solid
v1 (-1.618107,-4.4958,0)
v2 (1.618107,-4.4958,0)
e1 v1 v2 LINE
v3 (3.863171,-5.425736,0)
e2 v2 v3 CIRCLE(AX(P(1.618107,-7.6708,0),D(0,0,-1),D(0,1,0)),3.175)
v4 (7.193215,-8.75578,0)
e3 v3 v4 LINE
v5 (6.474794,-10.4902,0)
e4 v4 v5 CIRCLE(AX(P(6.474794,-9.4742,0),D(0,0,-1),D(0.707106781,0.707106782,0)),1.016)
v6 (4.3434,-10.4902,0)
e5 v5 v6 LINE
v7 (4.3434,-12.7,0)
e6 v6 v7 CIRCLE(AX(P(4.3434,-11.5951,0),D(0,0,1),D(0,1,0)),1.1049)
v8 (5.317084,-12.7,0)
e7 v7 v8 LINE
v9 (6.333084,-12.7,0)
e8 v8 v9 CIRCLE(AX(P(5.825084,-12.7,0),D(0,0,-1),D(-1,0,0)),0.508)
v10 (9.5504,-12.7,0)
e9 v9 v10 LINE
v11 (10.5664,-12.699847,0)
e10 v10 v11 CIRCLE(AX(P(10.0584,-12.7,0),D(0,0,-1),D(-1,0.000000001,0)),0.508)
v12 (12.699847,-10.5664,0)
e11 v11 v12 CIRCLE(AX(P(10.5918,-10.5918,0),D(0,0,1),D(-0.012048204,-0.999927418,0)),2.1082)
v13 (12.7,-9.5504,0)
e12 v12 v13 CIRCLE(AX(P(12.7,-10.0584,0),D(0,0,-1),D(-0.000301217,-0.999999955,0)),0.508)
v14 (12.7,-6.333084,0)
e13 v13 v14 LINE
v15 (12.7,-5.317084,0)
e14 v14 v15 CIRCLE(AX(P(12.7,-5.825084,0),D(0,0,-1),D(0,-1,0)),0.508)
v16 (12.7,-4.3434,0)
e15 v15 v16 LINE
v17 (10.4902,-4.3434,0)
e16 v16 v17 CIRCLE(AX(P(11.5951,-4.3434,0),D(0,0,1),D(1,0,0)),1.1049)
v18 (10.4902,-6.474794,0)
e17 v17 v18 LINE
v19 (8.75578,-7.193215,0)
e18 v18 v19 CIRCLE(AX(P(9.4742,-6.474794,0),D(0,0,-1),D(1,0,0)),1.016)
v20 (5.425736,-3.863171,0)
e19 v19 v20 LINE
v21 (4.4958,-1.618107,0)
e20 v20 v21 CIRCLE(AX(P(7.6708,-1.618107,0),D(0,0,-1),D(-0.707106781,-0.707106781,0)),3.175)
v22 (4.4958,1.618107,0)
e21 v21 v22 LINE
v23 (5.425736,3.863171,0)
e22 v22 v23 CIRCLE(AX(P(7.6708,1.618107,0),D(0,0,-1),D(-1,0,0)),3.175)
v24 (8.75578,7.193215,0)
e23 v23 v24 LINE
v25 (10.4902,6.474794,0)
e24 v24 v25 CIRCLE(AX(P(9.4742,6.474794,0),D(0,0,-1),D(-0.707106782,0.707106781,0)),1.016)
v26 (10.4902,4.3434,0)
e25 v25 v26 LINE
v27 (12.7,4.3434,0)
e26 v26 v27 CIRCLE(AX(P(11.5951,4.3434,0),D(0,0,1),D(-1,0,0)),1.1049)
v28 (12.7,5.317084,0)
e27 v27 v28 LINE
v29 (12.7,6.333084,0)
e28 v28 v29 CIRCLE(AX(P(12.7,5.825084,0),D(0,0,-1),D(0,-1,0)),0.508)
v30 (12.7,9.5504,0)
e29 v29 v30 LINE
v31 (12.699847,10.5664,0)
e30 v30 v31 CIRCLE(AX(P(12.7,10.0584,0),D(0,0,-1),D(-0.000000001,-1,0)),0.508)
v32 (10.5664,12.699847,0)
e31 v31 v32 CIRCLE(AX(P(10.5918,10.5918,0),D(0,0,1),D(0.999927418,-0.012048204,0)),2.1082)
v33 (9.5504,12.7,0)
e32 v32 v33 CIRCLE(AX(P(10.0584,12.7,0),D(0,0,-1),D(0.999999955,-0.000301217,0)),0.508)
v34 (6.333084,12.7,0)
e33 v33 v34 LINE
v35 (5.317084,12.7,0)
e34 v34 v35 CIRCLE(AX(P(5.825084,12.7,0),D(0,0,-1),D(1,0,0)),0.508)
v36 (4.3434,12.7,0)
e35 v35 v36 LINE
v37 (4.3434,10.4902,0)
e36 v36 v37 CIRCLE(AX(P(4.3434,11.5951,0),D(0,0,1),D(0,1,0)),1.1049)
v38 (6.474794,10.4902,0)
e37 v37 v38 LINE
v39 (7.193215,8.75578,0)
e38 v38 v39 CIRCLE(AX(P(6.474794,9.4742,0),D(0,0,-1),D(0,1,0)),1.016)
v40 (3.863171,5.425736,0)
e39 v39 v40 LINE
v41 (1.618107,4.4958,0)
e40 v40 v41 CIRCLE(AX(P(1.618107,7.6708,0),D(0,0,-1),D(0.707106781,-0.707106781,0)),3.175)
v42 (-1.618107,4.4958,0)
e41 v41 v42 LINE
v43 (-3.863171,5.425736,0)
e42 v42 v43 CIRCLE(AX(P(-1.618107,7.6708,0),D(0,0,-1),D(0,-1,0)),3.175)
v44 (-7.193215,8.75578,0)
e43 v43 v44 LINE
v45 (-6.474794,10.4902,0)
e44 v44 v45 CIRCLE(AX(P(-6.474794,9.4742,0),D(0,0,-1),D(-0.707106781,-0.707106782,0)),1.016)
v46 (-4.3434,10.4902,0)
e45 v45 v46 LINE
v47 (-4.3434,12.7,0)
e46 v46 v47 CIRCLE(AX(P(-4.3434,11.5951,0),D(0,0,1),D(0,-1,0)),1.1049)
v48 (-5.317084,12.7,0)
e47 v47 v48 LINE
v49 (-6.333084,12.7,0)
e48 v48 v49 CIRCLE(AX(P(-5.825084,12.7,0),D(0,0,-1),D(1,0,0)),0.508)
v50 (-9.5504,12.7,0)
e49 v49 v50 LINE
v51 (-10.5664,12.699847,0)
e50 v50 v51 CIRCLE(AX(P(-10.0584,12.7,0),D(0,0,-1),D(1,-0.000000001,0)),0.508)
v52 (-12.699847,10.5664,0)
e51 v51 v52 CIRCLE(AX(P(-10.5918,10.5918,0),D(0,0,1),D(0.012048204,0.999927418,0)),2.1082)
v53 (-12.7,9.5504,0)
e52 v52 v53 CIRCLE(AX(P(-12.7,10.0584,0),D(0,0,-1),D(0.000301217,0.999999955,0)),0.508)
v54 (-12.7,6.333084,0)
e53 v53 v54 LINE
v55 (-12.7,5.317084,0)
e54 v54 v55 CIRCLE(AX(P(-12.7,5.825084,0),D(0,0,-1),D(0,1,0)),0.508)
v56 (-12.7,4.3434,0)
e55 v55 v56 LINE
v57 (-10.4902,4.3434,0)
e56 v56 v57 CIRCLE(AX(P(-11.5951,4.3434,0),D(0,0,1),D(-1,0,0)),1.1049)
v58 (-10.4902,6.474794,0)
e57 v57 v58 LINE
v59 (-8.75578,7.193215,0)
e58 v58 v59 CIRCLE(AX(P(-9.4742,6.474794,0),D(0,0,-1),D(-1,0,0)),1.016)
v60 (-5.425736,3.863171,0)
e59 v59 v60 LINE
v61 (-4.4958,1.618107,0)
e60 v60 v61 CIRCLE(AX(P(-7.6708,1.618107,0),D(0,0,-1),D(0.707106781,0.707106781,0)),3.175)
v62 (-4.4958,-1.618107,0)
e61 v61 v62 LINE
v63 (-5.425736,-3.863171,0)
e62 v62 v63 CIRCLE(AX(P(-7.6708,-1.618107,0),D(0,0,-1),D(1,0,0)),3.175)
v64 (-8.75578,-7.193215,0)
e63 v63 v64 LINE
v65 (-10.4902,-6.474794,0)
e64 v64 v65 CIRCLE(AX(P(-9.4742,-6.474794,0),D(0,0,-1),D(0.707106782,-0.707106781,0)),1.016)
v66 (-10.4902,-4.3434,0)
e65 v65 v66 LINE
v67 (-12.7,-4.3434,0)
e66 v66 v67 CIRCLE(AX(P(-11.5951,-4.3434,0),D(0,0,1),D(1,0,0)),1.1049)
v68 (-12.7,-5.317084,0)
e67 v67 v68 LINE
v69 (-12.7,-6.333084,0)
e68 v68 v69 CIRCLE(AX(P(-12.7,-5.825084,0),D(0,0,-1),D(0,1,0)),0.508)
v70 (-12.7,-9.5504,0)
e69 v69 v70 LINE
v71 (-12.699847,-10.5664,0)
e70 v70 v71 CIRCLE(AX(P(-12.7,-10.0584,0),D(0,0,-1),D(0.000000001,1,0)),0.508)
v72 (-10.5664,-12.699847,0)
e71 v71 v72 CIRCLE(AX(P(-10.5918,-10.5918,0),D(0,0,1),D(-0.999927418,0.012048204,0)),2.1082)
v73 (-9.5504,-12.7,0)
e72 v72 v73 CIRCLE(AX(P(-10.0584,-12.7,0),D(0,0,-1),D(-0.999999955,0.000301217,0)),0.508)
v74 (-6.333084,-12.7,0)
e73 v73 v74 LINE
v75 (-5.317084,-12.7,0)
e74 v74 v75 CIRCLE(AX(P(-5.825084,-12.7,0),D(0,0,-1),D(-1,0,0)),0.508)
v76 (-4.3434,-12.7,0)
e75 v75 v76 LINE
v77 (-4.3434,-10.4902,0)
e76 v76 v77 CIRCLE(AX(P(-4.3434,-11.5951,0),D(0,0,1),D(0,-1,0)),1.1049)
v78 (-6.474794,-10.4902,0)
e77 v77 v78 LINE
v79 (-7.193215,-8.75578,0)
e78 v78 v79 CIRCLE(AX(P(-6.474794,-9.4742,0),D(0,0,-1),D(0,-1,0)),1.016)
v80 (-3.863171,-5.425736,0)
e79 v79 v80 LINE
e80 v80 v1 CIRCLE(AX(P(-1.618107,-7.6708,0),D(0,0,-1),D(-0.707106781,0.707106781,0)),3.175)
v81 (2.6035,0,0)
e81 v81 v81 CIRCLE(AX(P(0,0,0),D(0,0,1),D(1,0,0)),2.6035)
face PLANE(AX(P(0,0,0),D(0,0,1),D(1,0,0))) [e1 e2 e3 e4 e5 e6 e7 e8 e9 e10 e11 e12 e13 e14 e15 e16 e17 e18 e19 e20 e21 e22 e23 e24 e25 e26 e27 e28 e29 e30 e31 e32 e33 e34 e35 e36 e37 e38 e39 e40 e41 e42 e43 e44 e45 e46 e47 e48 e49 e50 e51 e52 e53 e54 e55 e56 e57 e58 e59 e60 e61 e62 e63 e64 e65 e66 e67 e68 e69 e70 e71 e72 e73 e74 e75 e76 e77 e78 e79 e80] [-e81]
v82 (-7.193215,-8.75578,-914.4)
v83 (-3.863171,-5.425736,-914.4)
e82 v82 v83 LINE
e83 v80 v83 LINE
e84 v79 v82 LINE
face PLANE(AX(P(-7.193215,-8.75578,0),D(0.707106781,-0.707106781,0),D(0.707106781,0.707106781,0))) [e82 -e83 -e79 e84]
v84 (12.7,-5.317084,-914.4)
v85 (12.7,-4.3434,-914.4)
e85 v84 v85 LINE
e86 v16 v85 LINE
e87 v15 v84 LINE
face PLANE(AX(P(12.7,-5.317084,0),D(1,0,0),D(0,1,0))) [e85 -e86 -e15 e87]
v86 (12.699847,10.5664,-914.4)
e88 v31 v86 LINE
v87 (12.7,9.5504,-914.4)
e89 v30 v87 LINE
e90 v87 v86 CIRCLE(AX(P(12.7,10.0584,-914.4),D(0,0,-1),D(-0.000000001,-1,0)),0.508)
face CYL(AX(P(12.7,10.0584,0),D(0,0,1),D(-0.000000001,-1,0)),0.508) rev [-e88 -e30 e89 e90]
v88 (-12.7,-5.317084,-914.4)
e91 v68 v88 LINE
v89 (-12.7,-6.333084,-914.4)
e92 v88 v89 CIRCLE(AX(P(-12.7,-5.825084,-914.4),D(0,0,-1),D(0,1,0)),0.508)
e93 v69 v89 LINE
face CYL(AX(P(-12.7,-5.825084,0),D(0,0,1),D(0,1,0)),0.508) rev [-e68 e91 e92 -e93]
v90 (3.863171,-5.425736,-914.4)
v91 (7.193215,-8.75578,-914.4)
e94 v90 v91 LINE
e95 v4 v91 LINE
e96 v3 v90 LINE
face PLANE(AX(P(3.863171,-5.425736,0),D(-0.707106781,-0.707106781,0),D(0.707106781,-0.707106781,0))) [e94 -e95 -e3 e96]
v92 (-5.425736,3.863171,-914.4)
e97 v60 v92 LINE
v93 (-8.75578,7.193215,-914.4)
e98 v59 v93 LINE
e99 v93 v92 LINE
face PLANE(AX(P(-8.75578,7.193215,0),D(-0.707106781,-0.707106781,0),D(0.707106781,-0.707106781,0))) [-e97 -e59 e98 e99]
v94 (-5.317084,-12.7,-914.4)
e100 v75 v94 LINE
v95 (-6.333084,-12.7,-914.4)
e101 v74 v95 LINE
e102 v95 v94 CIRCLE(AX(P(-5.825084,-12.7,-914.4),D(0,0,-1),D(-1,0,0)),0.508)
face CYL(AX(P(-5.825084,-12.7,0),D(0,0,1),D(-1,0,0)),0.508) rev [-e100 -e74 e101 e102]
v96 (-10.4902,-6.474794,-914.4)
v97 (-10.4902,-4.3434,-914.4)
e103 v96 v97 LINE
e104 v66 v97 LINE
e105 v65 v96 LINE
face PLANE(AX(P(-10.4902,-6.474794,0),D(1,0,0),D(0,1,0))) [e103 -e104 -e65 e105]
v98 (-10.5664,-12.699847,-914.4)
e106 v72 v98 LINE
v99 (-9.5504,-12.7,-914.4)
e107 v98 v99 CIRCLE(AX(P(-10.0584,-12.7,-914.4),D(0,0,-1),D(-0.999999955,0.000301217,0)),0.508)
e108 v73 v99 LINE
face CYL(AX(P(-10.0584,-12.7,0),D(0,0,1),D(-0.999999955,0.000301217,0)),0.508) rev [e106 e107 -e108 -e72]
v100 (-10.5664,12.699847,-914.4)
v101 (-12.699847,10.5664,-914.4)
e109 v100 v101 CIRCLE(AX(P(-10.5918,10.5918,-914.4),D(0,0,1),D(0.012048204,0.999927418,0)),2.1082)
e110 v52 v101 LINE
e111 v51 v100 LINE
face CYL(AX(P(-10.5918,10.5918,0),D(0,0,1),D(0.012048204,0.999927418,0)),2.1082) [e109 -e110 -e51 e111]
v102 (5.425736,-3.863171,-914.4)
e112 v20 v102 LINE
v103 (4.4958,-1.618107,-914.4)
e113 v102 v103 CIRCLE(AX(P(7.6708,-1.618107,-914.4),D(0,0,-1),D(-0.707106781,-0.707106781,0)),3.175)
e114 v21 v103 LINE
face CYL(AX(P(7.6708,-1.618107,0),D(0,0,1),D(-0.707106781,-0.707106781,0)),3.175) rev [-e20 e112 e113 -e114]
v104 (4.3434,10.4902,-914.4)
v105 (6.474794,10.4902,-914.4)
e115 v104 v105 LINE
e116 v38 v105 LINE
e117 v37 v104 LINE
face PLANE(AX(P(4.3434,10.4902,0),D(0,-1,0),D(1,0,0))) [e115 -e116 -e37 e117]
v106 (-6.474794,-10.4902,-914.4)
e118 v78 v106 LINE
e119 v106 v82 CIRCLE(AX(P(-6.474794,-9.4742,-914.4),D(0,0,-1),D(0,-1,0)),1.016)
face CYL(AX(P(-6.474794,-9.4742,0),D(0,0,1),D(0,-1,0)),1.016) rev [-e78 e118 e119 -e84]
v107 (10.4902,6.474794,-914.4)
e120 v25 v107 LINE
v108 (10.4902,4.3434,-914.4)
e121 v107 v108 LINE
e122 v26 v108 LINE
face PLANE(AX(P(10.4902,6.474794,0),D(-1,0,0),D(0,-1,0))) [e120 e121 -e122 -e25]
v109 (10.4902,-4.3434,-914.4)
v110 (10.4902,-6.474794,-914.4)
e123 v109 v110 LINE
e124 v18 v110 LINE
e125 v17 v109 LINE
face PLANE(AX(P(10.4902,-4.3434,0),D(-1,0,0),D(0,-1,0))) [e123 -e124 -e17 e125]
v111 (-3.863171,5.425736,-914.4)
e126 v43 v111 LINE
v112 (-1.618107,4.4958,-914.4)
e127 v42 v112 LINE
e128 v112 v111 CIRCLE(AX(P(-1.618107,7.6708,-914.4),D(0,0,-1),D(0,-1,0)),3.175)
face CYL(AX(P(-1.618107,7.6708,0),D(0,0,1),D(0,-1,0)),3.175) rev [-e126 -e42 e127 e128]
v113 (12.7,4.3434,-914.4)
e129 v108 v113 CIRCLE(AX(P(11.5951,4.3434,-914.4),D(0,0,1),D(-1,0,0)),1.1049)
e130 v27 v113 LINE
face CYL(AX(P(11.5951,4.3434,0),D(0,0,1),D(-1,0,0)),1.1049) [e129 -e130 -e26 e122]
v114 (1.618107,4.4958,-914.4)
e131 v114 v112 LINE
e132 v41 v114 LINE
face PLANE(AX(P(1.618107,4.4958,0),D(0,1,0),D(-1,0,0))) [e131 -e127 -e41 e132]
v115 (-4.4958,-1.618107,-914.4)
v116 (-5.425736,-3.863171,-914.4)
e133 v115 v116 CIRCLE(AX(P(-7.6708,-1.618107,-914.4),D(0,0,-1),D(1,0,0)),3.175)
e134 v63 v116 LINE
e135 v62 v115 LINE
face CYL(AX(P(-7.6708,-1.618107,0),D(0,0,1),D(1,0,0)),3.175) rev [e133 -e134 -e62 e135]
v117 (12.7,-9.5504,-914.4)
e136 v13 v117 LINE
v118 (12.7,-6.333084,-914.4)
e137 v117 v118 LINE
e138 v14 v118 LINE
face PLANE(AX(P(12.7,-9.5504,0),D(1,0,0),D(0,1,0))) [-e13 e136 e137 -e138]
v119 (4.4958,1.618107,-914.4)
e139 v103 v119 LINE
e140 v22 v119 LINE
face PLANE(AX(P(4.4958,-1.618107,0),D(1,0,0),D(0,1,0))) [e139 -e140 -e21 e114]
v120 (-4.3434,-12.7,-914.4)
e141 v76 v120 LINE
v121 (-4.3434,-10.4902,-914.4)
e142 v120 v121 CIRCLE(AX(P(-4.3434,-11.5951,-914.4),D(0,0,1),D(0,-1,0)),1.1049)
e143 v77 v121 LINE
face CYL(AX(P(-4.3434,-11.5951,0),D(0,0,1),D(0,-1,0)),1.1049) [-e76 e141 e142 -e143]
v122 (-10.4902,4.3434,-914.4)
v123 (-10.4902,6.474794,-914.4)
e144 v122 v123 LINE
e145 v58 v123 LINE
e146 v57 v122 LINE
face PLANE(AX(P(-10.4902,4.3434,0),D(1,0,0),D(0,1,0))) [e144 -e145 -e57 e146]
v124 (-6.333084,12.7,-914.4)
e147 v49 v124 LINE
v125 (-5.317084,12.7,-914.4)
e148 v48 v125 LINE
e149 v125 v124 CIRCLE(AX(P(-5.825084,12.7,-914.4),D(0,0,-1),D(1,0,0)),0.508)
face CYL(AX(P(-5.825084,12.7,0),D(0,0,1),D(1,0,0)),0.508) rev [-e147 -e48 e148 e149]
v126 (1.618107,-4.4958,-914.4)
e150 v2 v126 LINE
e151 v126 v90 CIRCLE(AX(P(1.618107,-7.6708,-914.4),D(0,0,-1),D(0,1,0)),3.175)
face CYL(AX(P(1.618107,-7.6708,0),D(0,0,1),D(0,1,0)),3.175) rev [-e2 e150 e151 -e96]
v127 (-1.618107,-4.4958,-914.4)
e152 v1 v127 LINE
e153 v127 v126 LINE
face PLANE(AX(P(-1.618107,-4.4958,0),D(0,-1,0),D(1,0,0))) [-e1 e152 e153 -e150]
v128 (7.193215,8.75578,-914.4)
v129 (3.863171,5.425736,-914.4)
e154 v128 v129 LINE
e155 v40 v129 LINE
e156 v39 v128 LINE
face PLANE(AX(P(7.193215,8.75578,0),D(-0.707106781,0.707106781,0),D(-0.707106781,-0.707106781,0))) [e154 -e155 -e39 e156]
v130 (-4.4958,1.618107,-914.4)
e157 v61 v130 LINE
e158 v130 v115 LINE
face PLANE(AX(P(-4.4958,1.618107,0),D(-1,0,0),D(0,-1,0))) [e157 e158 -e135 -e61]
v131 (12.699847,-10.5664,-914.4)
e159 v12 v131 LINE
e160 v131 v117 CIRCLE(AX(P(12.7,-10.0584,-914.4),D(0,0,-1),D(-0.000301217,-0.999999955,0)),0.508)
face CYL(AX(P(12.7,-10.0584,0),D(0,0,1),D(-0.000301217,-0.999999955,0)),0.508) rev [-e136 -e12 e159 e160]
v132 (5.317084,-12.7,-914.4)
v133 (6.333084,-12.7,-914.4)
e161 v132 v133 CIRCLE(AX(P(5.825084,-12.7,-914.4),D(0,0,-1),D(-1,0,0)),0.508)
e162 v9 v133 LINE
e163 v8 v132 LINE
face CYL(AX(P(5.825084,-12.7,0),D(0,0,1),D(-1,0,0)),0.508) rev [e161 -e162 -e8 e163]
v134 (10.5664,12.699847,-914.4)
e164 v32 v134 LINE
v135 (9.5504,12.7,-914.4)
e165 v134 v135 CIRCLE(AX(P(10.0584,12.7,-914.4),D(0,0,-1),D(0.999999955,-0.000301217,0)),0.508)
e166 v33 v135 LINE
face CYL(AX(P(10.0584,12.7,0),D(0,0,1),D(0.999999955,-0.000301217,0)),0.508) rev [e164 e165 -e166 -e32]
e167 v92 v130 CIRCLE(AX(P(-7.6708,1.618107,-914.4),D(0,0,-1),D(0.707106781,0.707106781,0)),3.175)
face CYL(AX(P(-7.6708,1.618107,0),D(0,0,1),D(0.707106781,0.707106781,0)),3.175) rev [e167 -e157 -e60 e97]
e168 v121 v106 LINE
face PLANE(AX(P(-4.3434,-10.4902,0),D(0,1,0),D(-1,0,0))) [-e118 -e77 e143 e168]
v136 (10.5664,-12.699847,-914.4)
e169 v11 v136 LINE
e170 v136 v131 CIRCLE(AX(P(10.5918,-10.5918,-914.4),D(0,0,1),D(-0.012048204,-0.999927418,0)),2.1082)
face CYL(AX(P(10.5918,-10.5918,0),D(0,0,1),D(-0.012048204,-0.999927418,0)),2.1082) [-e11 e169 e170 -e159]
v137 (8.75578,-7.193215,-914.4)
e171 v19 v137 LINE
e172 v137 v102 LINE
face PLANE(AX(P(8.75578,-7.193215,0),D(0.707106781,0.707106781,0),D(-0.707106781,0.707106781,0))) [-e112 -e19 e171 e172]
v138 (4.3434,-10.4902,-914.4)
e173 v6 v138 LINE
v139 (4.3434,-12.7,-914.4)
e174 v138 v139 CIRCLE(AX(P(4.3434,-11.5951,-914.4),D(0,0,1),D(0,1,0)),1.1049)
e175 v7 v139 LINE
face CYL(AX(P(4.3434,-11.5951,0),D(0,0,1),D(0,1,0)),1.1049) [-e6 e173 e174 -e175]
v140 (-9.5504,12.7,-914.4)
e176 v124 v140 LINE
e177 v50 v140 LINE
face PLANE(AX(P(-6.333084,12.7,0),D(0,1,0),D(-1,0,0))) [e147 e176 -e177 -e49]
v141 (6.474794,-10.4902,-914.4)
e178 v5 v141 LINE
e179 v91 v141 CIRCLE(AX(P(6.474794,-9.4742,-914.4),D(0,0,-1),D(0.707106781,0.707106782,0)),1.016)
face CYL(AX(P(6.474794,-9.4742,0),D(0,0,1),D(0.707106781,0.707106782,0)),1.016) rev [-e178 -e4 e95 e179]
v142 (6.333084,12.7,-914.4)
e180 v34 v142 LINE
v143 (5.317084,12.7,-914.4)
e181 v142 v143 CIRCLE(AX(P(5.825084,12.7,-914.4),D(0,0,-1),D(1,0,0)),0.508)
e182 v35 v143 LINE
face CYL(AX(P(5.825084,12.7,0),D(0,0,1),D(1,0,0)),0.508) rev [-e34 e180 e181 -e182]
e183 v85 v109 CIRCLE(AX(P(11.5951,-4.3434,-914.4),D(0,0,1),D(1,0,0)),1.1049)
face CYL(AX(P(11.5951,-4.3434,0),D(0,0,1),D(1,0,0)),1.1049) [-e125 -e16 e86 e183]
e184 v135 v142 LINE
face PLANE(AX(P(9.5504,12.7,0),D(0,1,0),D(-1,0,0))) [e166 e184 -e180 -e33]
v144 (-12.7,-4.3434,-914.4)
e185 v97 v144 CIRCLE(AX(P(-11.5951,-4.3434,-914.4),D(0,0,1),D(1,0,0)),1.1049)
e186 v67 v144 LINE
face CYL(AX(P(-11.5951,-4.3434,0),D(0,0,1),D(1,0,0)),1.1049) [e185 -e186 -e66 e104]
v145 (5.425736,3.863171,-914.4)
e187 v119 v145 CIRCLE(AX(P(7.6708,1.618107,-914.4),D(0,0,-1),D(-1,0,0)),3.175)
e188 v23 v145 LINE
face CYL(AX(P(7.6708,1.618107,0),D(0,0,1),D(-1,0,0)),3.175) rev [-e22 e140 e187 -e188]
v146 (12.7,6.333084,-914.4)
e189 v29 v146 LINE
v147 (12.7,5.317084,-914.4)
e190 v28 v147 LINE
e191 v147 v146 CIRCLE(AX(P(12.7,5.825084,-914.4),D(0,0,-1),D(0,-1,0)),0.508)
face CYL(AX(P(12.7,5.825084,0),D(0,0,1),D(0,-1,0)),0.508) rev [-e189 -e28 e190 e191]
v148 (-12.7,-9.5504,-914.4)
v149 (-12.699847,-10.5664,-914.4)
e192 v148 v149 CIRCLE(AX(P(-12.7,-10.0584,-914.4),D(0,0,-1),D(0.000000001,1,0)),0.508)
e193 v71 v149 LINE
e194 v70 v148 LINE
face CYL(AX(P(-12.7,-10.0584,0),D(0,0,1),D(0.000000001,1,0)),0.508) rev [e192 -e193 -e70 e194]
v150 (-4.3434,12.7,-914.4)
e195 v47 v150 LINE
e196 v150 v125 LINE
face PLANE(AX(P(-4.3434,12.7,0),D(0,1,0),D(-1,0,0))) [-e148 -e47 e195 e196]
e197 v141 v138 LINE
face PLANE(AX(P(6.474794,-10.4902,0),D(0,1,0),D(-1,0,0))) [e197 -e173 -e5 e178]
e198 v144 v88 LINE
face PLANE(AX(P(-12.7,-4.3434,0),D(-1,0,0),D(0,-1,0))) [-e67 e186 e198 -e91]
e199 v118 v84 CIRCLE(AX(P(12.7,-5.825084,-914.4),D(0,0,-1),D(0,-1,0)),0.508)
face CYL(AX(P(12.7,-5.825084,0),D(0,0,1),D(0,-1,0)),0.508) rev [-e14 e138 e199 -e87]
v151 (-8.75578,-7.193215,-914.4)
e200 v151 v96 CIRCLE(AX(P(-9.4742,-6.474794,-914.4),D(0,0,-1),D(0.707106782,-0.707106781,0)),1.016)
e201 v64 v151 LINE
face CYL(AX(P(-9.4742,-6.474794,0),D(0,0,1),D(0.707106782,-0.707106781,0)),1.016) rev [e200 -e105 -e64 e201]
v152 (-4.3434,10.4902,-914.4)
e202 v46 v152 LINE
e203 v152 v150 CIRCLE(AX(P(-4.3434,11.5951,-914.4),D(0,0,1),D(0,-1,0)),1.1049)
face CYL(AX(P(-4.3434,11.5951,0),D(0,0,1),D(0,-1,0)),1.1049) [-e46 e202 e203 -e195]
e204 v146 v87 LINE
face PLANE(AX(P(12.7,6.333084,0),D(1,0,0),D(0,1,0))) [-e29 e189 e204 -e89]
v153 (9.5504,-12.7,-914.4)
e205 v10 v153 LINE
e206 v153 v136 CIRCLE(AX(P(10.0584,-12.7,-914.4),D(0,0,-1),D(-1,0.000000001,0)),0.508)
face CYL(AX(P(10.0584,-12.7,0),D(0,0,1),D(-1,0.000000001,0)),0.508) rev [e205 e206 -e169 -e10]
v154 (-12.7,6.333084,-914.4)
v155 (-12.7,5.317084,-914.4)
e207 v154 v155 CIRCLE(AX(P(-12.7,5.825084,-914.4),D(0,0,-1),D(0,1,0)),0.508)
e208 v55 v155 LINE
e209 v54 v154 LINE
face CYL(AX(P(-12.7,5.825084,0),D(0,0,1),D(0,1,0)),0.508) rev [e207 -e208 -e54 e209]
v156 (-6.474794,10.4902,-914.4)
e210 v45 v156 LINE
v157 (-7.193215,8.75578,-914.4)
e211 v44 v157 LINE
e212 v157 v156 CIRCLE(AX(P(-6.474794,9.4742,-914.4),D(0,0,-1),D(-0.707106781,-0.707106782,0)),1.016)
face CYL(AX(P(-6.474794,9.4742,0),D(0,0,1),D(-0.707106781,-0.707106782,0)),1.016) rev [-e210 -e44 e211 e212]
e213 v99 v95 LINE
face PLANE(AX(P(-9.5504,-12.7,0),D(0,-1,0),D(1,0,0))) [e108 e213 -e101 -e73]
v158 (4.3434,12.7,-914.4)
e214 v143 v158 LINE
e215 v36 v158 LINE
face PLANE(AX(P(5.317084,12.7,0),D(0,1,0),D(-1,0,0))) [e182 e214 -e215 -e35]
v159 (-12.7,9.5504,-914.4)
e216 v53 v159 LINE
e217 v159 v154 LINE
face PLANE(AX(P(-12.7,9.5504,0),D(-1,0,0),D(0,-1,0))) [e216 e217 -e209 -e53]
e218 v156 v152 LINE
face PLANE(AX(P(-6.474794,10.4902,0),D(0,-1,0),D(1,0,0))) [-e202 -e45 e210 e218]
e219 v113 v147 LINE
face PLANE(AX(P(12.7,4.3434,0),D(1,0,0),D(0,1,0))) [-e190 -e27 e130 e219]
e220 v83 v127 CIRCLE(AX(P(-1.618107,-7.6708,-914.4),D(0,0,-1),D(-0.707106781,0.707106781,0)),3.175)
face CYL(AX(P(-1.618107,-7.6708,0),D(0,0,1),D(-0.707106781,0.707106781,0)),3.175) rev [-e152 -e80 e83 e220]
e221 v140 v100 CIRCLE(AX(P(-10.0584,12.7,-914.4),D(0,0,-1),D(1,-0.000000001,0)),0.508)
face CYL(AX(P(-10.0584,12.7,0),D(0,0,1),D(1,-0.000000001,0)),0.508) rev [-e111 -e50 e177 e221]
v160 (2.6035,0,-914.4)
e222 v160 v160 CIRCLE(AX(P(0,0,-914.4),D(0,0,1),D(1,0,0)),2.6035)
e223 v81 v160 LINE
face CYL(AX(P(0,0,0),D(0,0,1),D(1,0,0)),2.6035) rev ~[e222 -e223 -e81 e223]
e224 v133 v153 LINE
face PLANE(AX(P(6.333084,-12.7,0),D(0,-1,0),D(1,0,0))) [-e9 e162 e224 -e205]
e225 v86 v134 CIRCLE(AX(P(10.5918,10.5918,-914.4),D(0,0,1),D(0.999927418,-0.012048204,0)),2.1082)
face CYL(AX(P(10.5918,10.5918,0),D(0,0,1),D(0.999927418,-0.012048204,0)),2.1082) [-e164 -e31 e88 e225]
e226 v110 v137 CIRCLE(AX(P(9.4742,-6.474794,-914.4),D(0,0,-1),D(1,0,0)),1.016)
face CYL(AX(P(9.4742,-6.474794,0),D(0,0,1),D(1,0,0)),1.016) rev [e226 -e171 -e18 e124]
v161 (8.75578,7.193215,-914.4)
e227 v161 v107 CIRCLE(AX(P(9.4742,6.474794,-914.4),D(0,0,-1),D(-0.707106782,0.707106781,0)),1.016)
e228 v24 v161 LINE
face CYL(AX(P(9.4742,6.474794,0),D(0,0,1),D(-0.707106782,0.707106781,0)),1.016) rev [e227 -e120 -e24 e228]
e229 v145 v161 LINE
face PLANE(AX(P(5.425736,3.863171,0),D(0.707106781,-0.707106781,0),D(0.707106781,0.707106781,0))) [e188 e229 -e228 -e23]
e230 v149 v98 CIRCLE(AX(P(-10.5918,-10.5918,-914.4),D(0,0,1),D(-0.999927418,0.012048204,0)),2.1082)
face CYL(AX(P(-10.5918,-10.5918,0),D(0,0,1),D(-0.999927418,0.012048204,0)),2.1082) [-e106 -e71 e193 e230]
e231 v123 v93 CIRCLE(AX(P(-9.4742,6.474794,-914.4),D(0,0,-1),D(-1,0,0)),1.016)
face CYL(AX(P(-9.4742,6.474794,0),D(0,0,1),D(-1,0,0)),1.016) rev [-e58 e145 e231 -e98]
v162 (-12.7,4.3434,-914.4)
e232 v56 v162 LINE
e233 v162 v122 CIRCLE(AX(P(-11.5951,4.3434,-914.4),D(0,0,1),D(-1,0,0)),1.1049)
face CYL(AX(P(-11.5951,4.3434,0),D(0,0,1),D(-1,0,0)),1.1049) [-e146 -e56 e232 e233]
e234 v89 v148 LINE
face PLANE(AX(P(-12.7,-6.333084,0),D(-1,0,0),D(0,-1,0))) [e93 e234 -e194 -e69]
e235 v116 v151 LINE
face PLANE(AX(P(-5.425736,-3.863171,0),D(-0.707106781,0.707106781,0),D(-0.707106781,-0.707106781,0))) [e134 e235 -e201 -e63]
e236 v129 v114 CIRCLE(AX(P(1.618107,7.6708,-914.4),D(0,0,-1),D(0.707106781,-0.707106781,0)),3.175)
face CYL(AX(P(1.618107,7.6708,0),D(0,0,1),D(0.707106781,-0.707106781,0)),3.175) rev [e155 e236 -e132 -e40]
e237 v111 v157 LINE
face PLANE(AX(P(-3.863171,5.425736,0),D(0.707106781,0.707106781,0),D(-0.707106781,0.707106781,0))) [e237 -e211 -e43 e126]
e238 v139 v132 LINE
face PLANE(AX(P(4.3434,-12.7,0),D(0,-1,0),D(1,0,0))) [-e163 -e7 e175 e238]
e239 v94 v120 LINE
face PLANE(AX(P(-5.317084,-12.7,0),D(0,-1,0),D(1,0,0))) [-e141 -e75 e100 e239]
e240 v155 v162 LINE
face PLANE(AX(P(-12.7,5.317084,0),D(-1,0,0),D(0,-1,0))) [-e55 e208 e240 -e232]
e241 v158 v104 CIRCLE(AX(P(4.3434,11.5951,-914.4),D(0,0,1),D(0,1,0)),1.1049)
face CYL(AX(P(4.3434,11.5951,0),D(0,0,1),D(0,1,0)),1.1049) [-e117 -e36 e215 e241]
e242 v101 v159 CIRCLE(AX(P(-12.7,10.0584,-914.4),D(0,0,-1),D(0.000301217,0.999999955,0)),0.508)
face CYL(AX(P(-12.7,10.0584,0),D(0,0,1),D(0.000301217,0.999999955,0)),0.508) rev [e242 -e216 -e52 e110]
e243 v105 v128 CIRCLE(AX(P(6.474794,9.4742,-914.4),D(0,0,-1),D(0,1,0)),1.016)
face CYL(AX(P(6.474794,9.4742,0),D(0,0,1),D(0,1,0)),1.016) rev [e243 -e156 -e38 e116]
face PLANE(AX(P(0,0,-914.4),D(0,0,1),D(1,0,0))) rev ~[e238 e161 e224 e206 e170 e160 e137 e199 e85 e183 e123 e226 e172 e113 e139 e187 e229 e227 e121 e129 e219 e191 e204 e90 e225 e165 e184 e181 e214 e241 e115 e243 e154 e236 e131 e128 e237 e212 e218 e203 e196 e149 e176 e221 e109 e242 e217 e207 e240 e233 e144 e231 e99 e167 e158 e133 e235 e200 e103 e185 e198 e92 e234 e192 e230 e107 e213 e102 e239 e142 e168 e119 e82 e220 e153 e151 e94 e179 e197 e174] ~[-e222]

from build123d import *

# Parameters (mm, degrees)
SKETCH1_R           = 2.6035
BOSS_EXTRUDE1_DEPTH = 914.4


with BuildPart() as part:
    # Sketch1 → Boss-Extrude1 (new body)
    with BuildSketch(Plane.XY):
        with BuildLine():
            Line((-12.7, -6.3330836), (-12.7, -9.5504))
            ThreePointArc((-12.7, -9.5504), (-12.192000006, -10.058323491), (-12.699846982, -10.566399977))
            ThreePointArc((-12.699846982, -10.566399977), (-12.082522516, -12.082522516), (-10.566399977, -12.699846982))
            ThreePointArc((-10.566399977, -12.699846982), (-10.058323491, -12.192000006), (-9.5504, -12.7))
            Line((-9.5504, -12.7), (-6.3330836, -12.7))
            ThreePointArc((-6.3330836, -12.7), (-5.8250836, -12.192), (-5.3170836, -12.7))
            Line((-5.3170836, -12.7), (-4.343399971, -12.7))
            ThreePointArc((-4.343399971, -12.7), (-3.238499971, -11.5951), (-4.343399971, -10.4902))
            Line((-4.343399971, -10.4902), (-6.474794456, -10.4902))
            ThreePointArc((-6.474794456, -10.4902), (-7.413456061, -9.863006367), (-7.193214945, -8.75577951))
            Line((-7.193214945, -8.75577951), (-3.863171405, -5.42573597))
            ThreePointArc((-3.863171405, -5.42573597), (-2.833127272, -4.737482484), (-1.618107374, -4.4958))
            Line((-1.618107374, -4.4958), (1.618107374, -4.4958))
            ThreePointArc((1.618107374, -4.4958), (2.833127272, -4.737482484), (3.863171405, -5.42573597))
            Line((3.863171405, -5.42573597), (7.193214945, -8.75577951))
            ThreePointArc((7.193214945, -8.75577951), (7.413456061, -9.863006367), (6.474794456, -10.4902))
            Line((6.474794456, -10.4902), (4.3434, -10.4902))
            ThreePointArc((4.3434, -10.4902), (3.2385, -11.5951), (4.3434, -12.7))
            Line((4.3434, -12.7), (5.3170836, -12.7))
            ThreePointArc((5.3170836, -12.7), (5.8250836, -12.192), (6.3330836, -12.7))
            Line((6.3330836, -12.7), (9.5504, -12.7))
            ThreePointArc((9.5504, -12.7), (10.058323491, -12.192000006), (10.566399977, -12.699846982))
            ThreePointArc((10.566399977, -12.699846982), (12.082522516, -12.082522516), (12.699846982, -10.566399977))
            ThreePointArc((12.699846982, -10.566399977), (12.192000006, -10.058323491), (12.7, -9.5504))
            Line((12.7, -9.5504), (12.7, -6.3330836))
            ThreePointArc((12.7, -6.3330836), (12.192, -5.8250836), (12.7, -5.3170836))
            Line((12.7, -5.3170836), (12.7, -4.343399971))
            ThreePointArc((12.7, -4.343399971), (11.5951, -3.238499971), (10.4902, -4.343399971))
            Line((10.4902, -4.343399971), (10.4902, -6.474794456))
            ThreePointArc((10.4902, -6.474794456), (9.863006367, -7.413456061), (8.75577951, -7.193214945))
            Line((8.75577951, -7.193214945), (5.42573597, -3.863171405))
            ThreePointArc((5.42573597, -3.863171405), (4.737482484, -2.833127272), (4.4958, -1.618107374))
            Line((4.4958, -1.618107374), (4.4958, 1.618107374))
            ThreePointArc((4.4958, 1.618107374), (4.737482484, 2.833127272), (5.42573597, 3.863171405))
            Line((5.42573597, 3.863171405), (8.75577951, 7.193214945))
            ThreePointArc((8.75577951, 7.193214945), (9.863006367, 7.413456061), (10.4902, 6.474794456))
            Line((10.4902, 6.474794456), (10.4902, 4.3434))
            ThreePointArc((10.4902, 4.3434), (11.5951, 3.2385), (12.7, 4.3434))
            Line((12.7, 4.3434), (12.7, 5.3170836))
            ThreePointArc((12.7, 5.3170836), (12.192, 5.8250836), (12.7, 6.3330836))
            Line((12.7, 6.3330836), (12.7, 9.5504))
            ThreePointArc((12.7, 9.5504), (12.192000006, 10.058323491), (12.699846982, 10.566399977))
            ThreePointArc((12.699846982, 10.566399977), (12.082522516, 12.082522516), (10.566399977, 12.699846982))
            ThreePointArc((10.566399977, 12.699846982), (10.058323491, 12.192000006), (9.5504, 12.7))
            Line((9.5504, 12.7), (6.3330836, 12.7))
            ThreePointArc((6.3330836, 12.7), (5.8250836, 12.192), (5.3170836, 12.7))
            Line((5.3170836, 12.7), (4.343399971, 12.7))
            ThreePointArc((4.343399971, 12.7), (3.238499971, 11.5951), (4.343399971, 10.4902))
            Line((4.343399971, 10.4902), (6.474794456, 10.4902))
            ThreePointArc((6.474794456, 10.4902), (7.413456061, 9.863006367), (7.193214945, 8.75577951))
            Line((7.193214945, 8.75577951), (3.863171405, 5.42573597))
            ThreePointArc((3.863171405, 5.42573597), (2.833127272, 4.737482484), (1.618107374, 4.4958))
            Line((1.618107374, 4.4958), (-1.618107374, 4.4958))
            ThreePointArc((-1.618107374, 4.4958), (-2.833127272, 4.737482484), (-3.863171405, 5.42573597))
            Line((-3.863171405, 5.42573597), (-7.193214945, 8.75577951))
            ThreePointArc((-7.193214945, 8.75577951), (-7.413456061, 9.863006367), (-6.474794456, 10.4902))
            Line((-6.474794456, 10.4902), (-4.3434, 10.4902))
            ThreePointArc((-4.3434, 10.4902), (-3.2385, 11.5951), (-4.3434, 12.7))
            Line((-4.3434, 12.7), (-5.3170836, 12.7))
            ThreePointArc((-5.3170836, 12.7), (-5.8250836, 12.192), (-6.3330836, 12.7))
            Line((-6.3330836, 12.7), (-9.5504, 12.7))
            ThreePointArc((-9.5504, 12.7), (-10.058323491, 12.192000006), (-10.566399977, 12.699846982))
            ThreePointArc((-10.566399977, 12.699846982), (-12.082522516, 12.082522516), (-12.699846982, 10.566399977))
            ThreePointArc((-12.699846982, 10.566399977), (-12.192000006, 10.058323491), (-12.7, 9.5504))
            Line((-12.7, 9.5504), (-12.7, 6.3330836))
            ThreePointArc((-12.7, 6.3330836), (-12.192, 5.8250836), (-12.7, 5.3170836))
            Line((-12.7, 5.3170836), (-12.7, 4.343399971))
            ThreePointArc((-12.7, 4.343399971), (-11.5951, 3.238499971), (-10.4902, 4.343399971))
            Line((-10.4902, 4.343399971), (-10.4902, 6.474794456))
            ThreePointArc((-10.4902, 6.474794456), (-9.863006367, 7.413456061), (-8.75577951, 7.193214945))
            Line((-8.75577951, 7.193214945), (-5.42573597, 3.863171405))
            ThreePointArc((-5.42573597, 3.863171405), (-4.737482484, 2.833127272), (-4.4958, 1.618107374))
            Line((-4.4958, 1.618107374), (-4.4958, -1.618107374))
            ThreePointArc((-4.4958, -1.618107374), (-4.737482484, -2.833127272), (-5.42573597, -3.863171405))
            Line((-5.42573597, -3.863171405), (-8.75577951, -7.193214945))
            ThreePointArc((-8.75577951, -7.193214945), (-9.863006367, -7.413456061), (-10.4902, -6.474794456))
            Line((-10.4902, -6.474794456), (-10.4902, -4.3434))
            ThreePointArc((-10.4902, -4.3434), (-11.5951, -3.2385), (-12.7, -4.3434))
            Line((-12.7, -4.3434), (-12.7, -5.3170836))
            ThreePointArc((-12.7, -5.3170836), (-12.192, -5.8250836), (-12.7, -6.3330836))
        make_face()
        Circle(SKETCH1_R, mode=Mode.SUBTRACT)
    extrude(amount=-BOSS_EXTRUDE1_DEPTH)


solid = part.part
